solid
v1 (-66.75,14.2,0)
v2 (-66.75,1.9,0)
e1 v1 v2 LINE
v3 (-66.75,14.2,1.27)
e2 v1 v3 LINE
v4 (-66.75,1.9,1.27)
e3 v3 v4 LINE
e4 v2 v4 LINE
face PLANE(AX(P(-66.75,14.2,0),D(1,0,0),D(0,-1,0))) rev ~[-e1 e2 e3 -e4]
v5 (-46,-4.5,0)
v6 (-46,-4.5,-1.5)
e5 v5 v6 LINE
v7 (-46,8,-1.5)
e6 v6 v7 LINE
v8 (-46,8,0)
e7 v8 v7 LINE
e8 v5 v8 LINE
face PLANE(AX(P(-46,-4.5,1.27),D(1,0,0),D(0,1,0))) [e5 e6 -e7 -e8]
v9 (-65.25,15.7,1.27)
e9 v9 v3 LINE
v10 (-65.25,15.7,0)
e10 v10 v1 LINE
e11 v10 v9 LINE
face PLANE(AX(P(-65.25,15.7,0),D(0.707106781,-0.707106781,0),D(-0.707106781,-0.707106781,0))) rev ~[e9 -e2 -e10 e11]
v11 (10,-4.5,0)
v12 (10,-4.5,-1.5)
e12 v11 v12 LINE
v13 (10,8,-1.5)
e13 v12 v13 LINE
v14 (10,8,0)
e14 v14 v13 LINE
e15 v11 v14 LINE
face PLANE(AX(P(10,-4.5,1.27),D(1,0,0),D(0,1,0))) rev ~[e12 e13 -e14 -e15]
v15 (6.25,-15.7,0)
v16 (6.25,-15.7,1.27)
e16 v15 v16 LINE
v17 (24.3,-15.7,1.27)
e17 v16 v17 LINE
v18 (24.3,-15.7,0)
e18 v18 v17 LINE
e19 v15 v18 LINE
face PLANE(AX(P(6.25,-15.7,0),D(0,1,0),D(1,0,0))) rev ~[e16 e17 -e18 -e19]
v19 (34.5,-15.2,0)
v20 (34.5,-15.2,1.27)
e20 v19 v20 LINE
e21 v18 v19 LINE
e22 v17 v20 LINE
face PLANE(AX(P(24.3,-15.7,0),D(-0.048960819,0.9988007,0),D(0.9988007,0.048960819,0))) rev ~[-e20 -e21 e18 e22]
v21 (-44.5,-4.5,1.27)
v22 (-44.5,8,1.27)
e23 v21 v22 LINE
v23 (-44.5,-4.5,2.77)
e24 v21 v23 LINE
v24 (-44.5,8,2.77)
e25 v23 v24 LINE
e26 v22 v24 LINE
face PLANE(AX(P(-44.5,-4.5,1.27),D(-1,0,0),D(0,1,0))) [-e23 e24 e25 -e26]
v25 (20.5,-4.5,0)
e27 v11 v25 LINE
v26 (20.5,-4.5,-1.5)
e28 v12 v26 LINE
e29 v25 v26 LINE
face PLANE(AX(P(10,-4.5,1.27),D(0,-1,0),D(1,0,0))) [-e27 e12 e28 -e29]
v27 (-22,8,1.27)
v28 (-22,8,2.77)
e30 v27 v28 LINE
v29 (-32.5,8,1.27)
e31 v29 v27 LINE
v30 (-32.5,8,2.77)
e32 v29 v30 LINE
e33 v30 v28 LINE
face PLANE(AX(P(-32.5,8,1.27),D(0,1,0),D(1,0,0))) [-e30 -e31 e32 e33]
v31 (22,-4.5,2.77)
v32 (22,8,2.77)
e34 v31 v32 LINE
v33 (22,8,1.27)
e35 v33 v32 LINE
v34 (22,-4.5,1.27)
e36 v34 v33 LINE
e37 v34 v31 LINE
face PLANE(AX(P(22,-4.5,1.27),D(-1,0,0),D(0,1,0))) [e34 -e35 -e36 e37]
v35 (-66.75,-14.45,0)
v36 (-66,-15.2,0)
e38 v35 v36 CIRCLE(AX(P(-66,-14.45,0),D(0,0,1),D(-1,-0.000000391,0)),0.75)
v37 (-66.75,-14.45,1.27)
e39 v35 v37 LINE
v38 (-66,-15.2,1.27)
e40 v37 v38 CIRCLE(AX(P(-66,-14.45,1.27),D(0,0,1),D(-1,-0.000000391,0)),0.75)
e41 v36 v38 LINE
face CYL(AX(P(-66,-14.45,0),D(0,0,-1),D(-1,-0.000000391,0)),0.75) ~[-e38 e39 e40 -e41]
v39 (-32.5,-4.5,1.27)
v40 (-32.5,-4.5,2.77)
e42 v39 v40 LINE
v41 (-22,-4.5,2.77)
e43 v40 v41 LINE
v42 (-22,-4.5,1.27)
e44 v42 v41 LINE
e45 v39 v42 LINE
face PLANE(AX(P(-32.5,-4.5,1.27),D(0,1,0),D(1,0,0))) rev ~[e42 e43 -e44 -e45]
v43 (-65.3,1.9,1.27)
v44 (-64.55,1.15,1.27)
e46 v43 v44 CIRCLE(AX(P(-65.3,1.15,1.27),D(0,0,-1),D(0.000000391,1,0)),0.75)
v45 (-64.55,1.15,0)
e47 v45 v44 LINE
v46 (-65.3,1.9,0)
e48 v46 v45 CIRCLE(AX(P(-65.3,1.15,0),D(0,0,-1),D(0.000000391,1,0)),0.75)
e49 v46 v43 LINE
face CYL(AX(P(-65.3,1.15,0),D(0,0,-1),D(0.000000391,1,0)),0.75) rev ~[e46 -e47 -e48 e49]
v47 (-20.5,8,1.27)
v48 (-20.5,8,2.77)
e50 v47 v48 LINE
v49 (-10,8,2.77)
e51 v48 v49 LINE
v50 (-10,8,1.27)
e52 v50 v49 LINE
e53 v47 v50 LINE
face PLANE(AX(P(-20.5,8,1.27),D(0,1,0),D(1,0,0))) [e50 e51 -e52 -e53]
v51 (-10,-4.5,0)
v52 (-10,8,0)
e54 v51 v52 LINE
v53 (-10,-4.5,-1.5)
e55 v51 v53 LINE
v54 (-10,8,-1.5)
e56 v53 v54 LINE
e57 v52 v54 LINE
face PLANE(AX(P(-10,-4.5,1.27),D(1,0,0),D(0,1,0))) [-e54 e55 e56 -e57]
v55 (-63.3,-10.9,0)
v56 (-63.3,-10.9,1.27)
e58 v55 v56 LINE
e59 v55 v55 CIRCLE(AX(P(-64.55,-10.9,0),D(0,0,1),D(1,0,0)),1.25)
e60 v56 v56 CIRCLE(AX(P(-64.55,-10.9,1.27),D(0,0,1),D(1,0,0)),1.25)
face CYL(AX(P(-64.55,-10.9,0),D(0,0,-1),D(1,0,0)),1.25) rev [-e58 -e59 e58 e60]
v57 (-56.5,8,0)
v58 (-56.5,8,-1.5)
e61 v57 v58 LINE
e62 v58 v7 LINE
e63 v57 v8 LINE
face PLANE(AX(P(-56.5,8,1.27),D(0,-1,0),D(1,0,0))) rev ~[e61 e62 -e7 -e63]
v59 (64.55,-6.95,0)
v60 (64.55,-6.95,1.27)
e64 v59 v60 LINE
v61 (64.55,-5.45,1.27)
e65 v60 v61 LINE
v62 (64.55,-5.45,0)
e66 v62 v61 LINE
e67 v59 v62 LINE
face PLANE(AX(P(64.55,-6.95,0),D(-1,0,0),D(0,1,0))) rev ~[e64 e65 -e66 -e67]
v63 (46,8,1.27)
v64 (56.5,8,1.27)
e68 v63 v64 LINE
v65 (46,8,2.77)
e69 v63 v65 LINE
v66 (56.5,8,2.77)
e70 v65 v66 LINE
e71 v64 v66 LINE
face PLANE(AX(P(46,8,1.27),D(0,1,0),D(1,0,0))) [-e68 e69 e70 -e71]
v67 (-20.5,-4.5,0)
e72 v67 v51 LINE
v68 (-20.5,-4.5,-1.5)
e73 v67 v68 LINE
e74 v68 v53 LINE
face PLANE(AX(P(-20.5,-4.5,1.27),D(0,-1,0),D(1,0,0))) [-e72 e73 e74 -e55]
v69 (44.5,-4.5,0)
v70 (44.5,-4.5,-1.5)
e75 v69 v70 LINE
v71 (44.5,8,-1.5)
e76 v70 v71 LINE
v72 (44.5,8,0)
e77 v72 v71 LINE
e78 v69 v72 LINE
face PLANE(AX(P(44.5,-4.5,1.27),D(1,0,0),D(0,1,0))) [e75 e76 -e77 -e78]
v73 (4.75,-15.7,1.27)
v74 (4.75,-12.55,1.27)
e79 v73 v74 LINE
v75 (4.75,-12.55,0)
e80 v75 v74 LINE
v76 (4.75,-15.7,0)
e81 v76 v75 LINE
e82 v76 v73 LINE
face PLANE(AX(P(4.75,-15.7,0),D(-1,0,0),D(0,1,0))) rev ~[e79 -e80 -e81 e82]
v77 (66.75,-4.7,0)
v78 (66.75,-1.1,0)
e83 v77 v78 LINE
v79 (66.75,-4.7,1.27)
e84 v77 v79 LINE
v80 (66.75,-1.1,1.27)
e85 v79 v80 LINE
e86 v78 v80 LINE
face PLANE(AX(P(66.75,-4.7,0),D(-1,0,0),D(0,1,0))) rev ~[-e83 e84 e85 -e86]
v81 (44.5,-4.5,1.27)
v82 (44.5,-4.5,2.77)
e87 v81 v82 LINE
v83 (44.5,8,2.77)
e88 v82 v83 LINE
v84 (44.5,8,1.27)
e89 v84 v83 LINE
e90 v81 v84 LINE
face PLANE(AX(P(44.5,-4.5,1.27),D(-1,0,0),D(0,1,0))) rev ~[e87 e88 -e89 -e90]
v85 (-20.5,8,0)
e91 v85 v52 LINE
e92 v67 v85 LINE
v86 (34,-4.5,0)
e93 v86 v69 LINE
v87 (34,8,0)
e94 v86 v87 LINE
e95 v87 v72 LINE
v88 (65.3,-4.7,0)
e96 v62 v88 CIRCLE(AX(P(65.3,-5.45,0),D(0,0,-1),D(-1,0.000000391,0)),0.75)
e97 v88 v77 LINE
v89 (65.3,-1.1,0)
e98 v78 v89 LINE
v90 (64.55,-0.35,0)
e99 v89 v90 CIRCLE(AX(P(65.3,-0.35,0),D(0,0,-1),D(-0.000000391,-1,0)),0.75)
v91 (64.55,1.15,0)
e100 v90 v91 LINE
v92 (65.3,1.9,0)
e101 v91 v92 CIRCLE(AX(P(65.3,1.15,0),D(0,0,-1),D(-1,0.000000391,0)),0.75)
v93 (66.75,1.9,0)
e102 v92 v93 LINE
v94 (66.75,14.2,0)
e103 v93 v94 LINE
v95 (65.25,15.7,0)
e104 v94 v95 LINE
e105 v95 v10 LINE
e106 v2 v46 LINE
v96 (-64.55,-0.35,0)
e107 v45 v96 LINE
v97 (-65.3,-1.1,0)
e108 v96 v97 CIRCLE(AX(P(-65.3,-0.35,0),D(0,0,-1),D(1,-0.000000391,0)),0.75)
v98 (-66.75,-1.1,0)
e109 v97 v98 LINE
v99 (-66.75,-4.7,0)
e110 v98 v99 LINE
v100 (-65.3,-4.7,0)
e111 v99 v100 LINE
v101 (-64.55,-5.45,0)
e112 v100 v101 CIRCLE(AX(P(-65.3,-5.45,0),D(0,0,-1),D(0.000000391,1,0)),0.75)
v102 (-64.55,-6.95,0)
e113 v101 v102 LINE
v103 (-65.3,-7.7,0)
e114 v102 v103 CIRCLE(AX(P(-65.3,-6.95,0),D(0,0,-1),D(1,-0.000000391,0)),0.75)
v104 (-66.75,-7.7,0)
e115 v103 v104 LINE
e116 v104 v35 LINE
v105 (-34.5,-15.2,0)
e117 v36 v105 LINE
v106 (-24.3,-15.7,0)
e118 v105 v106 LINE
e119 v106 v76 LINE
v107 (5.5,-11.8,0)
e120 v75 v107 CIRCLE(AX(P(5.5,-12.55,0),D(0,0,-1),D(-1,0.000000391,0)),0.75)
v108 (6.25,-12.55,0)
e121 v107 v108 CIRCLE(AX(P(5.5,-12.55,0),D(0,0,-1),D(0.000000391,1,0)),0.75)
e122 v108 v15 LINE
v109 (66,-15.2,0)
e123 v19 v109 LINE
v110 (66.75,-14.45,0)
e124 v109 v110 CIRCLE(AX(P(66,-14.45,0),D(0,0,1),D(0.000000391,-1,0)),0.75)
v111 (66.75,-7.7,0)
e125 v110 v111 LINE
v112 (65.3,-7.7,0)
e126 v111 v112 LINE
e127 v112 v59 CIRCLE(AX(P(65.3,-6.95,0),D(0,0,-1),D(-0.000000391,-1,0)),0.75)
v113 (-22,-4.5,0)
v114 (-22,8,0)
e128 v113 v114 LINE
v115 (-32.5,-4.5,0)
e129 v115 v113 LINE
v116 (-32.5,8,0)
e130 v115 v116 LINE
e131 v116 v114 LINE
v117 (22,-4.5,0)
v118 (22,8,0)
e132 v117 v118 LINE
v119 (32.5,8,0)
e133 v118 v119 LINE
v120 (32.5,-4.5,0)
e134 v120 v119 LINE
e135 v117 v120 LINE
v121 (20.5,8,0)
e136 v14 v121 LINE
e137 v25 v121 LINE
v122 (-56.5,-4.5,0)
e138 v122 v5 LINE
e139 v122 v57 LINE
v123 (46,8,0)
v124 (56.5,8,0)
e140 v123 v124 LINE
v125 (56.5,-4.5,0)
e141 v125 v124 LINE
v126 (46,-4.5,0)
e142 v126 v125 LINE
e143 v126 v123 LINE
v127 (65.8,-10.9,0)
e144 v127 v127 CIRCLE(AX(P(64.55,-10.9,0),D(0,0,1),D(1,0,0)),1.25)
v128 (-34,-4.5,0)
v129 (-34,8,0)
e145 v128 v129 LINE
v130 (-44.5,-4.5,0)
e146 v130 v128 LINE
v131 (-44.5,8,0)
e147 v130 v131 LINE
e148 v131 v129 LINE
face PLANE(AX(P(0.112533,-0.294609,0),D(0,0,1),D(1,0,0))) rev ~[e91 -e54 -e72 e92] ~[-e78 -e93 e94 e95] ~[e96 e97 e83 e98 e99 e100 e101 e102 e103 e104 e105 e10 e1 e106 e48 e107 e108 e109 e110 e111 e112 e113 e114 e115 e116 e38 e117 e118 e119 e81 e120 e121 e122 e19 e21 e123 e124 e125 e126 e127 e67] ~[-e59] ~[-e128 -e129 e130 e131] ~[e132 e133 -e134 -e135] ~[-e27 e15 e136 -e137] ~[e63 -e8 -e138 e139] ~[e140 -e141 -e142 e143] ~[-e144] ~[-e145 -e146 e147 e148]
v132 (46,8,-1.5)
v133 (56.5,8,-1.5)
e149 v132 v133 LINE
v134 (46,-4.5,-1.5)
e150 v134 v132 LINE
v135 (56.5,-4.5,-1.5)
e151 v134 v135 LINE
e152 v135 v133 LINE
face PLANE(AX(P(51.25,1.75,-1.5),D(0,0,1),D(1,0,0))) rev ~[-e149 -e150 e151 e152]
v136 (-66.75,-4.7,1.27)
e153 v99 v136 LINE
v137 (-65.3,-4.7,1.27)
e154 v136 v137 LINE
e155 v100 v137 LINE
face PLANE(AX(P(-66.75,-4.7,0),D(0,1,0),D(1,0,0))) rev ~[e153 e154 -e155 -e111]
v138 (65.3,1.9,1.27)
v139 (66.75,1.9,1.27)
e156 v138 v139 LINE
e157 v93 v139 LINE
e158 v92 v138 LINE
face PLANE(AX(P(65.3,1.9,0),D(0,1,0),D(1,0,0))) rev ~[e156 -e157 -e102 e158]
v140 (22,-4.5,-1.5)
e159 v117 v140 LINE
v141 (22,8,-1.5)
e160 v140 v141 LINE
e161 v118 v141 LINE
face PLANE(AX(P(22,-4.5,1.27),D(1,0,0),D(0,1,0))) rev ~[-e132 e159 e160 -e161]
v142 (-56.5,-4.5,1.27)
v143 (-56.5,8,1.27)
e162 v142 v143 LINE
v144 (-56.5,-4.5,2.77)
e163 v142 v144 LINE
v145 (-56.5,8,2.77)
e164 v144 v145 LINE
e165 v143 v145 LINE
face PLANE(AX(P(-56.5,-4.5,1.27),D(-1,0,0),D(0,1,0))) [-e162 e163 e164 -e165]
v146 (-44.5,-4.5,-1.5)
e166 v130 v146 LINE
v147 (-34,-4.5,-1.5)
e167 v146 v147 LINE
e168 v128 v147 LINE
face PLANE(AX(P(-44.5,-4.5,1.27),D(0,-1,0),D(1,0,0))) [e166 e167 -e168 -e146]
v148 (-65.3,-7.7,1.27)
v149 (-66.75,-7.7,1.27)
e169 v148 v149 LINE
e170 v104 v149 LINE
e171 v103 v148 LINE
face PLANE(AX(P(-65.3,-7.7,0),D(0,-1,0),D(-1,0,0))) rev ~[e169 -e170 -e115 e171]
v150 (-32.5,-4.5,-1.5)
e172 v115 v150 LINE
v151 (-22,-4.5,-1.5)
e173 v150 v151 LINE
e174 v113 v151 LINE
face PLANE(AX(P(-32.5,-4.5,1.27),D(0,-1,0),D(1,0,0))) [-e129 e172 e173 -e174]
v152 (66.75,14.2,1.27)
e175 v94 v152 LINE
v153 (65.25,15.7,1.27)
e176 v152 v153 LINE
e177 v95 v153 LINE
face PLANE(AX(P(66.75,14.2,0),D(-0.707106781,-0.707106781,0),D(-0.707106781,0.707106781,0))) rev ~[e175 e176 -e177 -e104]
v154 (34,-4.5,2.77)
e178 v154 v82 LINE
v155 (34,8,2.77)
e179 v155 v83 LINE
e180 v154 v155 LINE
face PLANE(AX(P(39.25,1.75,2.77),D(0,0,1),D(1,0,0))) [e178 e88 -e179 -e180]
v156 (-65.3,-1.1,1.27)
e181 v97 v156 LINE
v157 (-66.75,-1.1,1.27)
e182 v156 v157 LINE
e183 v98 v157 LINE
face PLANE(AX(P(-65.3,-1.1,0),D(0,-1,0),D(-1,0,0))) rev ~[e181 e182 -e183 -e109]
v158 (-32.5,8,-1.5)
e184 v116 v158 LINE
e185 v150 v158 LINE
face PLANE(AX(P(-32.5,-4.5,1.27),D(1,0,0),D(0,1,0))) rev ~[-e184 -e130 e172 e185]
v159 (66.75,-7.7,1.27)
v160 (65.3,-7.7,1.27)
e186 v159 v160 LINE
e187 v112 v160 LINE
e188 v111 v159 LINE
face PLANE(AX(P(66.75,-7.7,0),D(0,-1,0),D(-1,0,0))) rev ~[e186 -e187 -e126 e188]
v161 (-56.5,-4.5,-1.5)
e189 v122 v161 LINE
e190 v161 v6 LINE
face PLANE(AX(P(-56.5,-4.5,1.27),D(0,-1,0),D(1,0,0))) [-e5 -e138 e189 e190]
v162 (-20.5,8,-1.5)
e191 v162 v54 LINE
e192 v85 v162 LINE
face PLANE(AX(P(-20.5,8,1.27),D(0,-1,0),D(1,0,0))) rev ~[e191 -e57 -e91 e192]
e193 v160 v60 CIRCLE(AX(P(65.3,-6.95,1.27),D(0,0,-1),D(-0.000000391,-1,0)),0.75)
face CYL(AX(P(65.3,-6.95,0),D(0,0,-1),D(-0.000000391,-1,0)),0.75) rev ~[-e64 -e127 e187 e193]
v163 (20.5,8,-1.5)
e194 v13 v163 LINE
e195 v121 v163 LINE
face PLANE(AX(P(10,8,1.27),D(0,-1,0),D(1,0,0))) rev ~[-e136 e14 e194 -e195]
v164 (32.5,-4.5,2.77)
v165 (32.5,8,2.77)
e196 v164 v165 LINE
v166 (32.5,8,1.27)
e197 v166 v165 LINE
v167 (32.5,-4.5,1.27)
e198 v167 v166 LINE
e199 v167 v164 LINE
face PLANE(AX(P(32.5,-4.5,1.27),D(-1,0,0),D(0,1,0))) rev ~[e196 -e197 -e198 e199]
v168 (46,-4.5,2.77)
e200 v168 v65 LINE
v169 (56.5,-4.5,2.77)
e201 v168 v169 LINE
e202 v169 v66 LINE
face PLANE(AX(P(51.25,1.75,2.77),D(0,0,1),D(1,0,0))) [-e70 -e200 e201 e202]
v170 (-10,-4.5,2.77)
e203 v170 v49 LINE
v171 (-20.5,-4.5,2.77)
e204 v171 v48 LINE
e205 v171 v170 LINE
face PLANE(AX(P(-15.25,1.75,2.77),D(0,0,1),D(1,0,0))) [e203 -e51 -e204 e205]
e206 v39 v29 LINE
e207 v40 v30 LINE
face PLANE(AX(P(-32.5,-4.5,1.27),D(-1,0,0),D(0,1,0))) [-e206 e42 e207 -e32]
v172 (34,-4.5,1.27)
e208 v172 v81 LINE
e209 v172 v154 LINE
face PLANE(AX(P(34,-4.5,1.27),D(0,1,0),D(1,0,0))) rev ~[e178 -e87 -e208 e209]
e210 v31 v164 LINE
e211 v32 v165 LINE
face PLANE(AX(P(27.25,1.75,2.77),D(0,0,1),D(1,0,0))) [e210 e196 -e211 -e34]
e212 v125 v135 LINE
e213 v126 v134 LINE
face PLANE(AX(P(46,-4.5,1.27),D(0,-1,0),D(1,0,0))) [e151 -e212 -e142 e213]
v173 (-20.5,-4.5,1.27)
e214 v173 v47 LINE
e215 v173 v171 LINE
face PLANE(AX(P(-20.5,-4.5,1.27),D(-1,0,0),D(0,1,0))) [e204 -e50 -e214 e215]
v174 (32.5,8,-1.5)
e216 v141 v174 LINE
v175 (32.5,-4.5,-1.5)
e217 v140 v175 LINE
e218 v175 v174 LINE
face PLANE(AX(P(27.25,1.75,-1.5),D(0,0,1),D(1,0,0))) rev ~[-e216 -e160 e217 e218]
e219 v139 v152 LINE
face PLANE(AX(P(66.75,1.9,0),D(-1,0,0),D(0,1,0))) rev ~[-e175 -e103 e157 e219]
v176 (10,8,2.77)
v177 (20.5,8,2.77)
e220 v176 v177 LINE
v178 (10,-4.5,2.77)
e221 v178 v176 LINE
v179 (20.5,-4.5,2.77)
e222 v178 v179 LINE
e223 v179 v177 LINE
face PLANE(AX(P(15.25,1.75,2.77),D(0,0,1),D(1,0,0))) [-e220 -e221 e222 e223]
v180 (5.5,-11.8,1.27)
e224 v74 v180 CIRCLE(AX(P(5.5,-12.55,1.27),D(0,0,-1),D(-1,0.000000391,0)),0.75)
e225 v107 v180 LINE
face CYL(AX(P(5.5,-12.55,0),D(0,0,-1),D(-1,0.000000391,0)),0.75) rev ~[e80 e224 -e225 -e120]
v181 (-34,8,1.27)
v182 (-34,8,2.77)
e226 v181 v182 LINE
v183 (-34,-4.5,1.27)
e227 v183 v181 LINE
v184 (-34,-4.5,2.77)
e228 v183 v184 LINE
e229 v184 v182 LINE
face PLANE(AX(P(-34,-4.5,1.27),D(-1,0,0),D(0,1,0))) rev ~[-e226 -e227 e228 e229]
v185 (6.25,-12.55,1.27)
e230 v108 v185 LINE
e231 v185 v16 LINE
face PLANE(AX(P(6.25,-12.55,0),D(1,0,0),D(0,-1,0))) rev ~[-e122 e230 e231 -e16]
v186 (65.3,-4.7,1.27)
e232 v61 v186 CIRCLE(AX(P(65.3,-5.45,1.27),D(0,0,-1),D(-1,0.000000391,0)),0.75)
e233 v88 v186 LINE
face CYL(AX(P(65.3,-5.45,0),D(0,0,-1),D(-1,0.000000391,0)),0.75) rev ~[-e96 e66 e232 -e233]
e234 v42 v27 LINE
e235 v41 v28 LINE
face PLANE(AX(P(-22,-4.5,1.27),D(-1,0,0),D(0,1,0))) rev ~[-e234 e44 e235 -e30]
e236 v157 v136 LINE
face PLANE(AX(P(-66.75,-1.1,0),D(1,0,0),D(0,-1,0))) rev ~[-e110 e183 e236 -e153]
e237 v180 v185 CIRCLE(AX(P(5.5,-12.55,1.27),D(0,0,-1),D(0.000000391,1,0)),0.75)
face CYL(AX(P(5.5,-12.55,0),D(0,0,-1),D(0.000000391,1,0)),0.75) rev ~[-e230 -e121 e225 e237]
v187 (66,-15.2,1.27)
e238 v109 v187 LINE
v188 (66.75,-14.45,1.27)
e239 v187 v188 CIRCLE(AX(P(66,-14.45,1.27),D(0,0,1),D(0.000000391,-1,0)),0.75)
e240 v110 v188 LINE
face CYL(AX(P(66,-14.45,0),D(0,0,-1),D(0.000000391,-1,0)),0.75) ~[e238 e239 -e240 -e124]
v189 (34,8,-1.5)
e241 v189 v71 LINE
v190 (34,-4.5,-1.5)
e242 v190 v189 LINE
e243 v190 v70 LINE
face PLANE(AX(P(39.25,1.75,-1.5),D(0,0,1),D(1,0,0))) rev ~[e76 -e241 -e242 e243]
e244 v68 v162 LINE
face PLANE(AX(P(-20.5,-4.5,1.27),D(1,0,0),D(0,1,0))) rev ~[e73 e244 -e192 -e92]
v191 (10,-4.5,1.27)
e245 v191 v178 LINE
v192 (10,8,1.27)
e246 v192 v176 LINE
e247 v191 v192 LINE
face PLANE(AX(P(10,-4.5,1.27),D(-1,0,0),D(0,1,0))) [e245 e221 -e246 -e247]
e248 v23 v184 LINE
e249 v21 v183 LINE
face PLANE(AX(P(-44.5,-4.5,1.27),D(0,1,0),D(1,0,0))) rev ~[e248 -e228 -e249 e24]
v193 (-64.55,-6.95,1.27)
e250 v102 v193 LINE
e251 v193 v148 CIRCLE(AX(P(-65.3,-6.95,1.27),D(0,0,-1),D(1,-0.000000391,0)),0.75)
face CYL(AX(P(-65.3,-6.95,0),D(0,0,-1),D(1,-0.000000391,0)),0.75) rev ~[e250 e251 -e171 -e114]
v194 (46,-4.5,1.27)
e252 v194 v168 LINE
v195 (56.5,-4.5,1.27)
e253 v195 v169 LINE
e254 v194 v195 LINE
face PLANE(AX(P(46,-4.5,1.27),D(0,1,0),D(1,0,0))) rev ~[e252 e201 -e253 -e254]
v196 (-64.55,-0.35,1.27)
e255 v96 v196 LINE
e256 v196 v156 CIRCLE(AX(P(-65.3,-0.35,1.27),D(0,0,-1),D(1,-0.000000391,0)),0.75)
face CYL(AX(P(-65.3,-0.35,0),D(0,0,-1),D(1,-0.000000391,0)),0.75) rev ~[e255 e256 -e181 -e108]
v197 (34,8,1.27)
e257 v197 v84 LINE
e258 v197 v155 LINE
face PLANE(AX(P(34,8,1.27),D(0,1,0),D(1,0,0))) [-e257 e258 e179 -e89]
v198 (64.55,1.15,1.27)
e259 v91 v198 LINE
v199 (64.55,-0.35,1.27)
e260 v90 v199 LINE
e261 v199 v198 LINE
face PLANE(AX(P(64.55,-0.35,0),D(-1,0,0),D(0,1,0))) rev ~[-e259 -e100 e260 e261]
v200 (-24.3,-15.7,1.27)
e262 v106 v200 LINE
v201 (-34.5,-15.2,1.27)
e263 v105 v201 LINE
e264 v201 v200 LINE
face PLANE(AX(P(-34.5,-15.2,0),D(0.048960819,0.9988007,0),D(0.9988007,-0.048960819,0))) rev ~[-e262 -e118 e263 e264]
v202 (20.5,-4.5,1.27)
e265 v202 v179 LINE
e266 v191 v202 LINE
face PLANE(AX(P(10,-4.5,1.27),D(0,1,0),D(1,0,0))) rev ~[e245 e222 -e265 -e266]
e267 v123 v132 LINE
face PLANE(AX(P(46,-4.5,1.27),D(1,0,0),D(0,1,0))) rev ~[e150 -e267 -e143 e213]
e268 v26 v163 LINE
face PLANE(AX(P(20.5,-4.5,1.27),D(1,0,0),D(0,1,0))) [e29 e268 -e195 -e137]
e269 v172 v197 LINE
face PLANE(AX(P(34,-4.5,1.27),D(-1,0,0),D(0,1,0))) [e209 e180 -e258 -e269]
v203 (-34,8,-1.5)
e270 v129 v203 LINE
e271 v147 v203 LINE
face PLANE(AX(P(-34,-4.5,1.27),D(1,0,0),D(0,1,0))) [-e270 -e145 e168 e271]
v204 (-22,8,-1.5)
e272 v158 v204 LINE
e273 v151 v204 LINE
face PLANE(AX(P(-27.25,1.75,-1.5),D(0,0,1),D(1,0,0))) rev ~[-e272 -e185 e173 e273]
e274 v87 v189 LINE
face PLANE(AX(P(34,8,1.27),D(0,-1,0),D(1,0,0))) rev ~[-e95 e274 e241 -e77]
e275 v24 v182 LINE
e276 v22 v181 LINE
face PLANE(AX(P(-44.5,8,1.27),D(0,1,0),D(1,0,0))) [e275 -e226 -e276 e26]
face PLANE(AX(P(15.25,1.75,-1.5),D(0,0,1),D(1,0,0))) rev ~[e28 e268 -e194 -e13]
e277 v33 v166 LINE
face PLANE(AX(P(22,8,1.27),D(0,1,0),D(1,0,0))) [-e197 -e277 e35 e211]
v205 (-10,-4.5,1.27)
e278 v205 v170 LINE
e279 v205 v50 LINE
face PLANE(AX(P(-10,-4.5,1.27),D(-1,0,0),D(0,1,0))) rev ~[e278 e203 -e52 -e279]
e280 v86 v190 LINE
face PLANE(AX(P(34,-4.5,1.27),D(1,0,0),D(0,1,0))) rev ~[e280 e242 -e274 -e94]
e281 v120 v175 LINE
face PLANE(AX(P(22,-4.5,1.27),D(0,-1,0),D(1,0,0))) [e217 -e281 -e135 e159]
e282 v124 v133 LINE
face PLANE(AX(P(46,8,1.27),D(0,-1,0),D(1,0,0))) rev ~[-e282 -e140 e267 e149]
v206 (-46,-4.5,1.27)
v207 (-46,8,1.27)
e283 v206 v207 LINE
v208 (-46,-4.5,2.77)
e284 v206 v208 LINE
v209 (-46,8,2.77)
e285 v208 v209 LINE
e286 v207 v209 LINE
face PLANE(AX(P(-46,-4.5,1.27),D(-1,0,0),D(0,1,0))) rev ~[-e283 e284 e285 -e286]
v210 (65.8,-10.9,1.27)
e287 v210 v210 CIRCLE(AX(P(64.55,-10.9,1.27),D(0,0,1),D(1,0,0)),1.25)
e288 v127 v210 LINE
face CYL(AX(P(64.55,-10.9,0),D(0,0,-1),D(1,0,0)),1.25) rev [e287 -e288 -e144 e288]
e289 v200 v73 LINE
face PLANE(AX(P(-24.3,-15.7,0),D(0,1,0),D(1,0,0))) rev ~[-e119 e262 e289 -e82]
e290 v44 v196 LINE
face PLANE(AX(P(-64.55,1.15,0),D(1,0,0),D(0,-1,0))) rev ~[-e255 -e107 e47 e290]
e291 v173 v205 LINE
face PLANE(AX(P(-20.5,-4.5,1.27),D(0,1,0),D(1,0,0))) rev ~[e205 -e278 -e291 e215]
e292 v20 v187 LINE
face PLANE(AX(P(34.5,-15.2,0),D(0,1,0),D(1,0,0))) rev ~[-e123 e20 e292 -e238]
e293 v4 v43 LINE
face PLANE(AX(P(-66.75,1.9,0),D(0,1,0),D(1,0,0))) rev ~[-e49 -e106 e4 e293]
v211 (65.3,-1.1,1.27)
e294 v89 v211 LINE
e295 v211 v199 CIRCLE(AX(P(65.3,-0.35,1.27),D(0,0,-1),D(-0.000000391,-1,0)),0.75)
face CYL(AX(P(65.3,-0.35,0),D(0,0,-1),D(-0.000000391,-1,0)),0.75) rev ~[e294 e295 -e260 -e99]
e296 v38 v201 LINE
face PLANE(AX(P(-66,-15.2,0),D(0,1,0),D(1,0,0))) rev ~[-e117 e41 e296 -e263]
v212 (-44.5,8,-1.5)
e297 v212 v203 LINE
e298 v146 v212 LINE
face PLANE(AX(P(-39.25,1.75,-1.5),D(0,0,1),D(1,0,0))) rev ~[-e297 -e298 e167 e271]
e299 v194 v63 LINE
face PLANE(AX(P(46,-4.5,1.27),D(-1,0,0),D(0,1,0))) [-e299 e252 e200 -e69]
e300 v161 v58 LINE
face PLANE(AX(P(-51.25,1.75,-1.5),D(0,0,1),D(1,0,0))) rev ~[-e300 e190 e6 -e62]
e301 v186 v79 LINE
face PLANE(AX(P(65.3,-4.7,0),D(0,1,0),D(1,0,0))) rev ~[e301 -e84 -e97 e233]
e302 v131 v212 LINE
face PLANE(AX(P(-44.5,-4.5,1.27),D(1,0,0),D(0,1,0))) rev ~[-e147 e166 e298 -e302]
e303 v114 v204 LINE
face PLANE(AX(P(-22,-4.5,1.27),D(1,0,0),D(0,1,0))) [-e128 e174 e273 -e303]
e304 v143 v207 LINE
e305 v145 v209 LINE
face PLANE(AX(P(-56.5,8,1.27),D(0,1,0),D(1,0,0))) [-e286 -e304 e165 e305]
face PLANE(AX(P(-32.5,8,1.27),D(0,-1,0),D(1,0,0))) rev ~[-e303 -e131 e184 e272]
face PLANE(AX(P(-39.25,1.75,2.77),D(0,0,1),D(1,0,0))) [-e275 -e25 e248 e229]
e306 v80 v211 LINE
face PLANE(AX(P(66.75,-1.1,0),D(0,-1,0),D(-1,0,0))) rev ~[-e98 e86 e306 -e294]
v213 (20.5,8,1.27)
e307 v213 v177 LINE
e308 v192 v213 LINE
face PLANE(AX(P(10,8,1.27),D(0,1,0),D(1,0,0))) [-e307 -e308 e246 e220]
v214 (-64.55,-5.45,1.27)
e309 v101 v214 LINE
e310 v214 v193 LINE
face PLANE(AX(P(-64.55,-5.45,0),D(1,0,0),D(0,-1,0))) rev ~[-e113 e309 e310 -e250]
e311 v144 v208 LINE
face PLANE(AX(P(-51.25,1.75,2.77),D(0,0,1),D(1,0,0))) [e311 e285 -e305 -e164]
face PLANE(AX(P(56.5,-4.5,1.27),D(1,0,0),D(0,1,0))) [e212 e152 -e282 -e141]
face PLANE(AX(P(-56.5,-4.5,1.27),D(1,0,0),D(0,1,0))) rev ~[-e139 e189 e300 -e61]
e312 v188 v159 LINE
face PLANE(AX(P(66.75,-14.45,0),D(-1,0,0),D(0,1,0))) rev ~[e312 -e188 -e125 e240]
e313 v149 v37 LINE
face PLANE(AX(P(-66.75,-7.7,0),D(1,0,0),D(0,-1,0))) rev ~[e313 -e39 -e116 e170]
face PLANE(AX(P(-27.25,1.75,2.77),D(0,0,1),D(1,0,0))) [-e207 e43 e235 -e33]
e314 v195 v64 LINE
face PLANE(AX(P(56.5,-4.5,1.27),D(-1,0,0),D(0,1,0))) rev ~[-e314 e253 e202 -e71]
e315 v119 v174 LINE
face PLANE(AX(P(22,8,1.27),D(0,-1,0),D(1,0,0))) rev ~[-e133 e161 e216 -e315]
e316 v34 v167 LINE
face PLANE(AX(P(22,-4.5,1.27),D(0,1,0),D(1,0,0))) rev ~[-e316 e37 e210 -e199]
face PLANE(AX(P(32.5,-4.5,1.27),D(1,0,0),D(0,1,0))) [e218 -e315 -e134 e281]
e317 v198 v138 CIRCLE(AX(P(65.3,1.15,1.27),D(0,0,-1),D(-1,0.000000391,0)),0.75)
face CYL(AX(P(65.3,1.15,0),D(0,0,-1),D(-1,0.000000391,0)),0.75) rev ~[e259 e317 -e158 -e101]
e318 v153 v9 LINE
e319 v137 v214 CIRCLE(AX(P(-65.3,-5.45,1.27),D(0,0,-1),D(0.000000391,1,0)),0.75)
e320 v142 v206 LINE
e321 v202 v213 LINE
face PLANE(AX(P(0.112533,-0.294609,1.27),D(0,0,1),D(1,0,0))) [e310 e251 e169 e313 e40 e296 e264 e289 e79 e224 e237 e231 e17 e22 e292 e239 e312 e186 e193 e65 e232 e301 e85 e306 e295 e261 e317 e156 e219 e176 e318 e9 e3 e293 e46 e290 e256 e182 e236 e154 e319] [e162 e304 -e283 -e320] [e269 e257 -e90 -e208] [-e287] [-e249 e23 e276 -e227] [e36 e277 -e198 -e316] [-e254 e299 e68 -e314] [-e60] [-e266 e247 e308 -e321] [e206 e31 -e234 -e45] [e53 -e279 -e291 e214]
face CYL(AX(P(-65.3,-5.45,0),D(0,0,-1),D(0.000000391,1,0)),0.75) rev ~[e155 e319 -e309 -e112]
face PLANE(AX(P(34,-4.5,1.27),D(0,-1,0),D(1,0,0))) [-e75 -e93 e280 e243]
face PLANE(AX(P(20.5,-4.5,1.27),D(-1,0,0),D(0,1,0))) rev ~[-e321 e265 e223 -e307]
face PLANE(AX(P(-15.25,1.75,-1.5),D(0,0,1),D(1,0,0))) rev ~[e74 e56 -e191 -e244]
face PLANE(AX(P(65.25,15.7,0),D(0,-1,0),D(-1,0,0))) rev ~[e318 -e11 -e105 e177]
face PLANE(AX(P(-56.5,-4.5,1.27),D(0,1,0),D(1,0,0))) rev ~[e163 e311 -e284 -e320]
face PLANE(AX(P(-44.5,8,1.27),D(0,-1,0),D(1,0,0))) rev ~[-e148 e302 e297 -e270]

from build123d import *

# Parameters (mm, degrees)
F0_R     = 1.25
F1_DEPTH = 1.27
F2_W     = 10.5
F2_H     = 12.5
F3_DEPTH = 1.5
F4_DEPTH = 2.77


with BuildPart() as f1:
    # F0 (on Top) → F1 (new body)
    with BuildSketch(Plane.XY):
        with BuildLine():
            ThreePointArc((-66.75, -14.45), (-66.53033, -14.98033), (-66, -15.2))
            Line((-66, -15.2), (-34.5, -15.2))
            Line((-34.5, -15.2), (-24.3, -15.7))
            Line((-24.3, -15.7), (4.75, -15.7))
            Line((4.75, -15.7), (4.75, -12.55))
            ThreePointArc((4.75, -12.55), (4.96967, -12.01967), (5.5, -11.8))
            ThreePointArc((5.5, -11.8), (6.03033, -12.01967), (6.25, -12.55))
            Line((6.25, -12.55), (6.25, -15.7))
            Line((6.25, -15.7), (24.3, -15.7))
            Line((24.3, -15.7), (34.5, -15.2))
            Line((34.5, -15.2), (66, -15.2))
            ThreePointArc((66, -15.2), (66.53033, -14.98033), (66.75, -14.45))
            Line((66.75, -14.45), (66.75, -7.7))
            Line((66.75, -7.7), (65.3, -7.7))
            ThreePointArc((65.3, -7.7), (64.76967, -7.48033), (64.55, -6.95))
            Line((64.55, -6.95), (64.55, -5.45))
            ThreePointArc((64.55, -5.45), (64.76967, -4.91967), (65.3, -4.7))
            Line((65.3, -4.7), (66.75, -4.7))
            Line((66.75, -4.7), (66.75, -1.1))
            Line((66.75, -1.1), (65.3, -1.1))
            ThreePointArc((65.3, -1.1), (64.76967, -0.88033), (64.55, -0.35))
            Line((64.55, -0.35), (64.55, 1.15))
            ThreePointArc((64.55, 1.15), (64.76967, 1.68033), (65.3, 1.9))
            Line((65.3, 1.9), (66.75, 1.9))
            Line((66.75, 1.9), (66.75, 14.2))
            Line((66.75, 14.2), (65.25, 15.7))
            Line((65.25, 15.7), (-65.25, 15.7))
            Line((-65.25, 15.7), (-66.75, 14.2))
            Line((-66.75, 14.2), (-66.75, 1.9))
            Line((-66.75, 1.9), (-65.3, 1.9))
            ThreePointArc((-65.3, 1.9), (-64.76967, 1.68033), (-64.55, 1.15))
            Line((-64.55, 1.15), (-64.55, -0.35))
            ThreePointArc((-64.55, -0.35), (-64.76967, -0.88033), (-65.3, -1.1))
            Line((-65.3, -1.1), (-66.75, -1.1))
            Line((-66.75, -1.1), (-66.75, -4.7))
            Line((-66.75, -4.7), (-65.3, -4.7))
            ThreePointArc((-65.3, -4.7), (-64.76967, -4.91967), (-64.55, -5.45))
            Line((-64.55, -5.45), (-64.55, -6.95))
            ThreePointArc((-64.55, -6.95), (-64.76967, -7.48033), (-65.3, -7.7))
            Line((-65.3, -7.7), (-66.75, -7.7))
            Line((-66.75, -7.7), (-66.75, -14.45))
        make_face()
        with Locations((-64.55, -10.9)):
            Circle(F0_R, mode=Mode.SUBTRACT)
        with Locations((64.55, -10.9)):
            Circle(F0_R, mode=Mode.SUBTRACT)
    extrude(amount=F1_DEPTH)

    # F2 (on face) → F3 (join)
    with BuildSketch(Plane.XY.offset(1.27)):
        with Locations((-51.25, 1.75)):
            Rectangle(F2_W, F2_H)
        with Locations((-39.25, 1.75)):
            Rectangle(F2_W, F2_H)
        with Locations((-27.25, 1.75)):
            Rectangle(F2_W, F2_H)
        with Locations((-15.25, 1.75)):
            Rectangle(F2_W, F2_H)
        with Locations((51.25, 1.75)):
            Rectangle(F2_W, F2_H)
        with Locations((39.25, 1.75)):
            Rectangle(F2_W, F2_H)
        with Locations((15.25, 1.75)):
            Rectangle(F2_W, F2_H)
        with Locations((27.25, 1.75)):
            Rectangle(F2_W, F2_H)
    extrude(amount=F3_DEPTH)

    # F2 (on face) → F4 (join)
    with BuildSketch(Plane.XY.offset(1.27)):
        with Locations((-51.25, 1.75)):
            Rectangle(F2_W, F2_H)
        with Locations((-39.25, 1.75)):
            Rectangle(F2_W, F2_H)
        with Locations((-27.25, 1.75)):
            Rectangle(F2_W, F2_H)
        with Locations((-15.25, 1.75)):
            Rectangle(F2_W, F2_H)
        with Locations((51.25, 1.75)):
            Rectangle(F2_W, F2_H)
        with Locations((39.25, 1.75)):
            Rectangle(F2_W, F2_H)
        with Locations((15.25, 1.75)):
            Rectangle(F2_W, F2_H)
        with Locations((27.25, 1.75)):
            Rectangle(F2_W, F2_H)
    extrude(amount=-F4_DEPTH)


solid = f1.part
